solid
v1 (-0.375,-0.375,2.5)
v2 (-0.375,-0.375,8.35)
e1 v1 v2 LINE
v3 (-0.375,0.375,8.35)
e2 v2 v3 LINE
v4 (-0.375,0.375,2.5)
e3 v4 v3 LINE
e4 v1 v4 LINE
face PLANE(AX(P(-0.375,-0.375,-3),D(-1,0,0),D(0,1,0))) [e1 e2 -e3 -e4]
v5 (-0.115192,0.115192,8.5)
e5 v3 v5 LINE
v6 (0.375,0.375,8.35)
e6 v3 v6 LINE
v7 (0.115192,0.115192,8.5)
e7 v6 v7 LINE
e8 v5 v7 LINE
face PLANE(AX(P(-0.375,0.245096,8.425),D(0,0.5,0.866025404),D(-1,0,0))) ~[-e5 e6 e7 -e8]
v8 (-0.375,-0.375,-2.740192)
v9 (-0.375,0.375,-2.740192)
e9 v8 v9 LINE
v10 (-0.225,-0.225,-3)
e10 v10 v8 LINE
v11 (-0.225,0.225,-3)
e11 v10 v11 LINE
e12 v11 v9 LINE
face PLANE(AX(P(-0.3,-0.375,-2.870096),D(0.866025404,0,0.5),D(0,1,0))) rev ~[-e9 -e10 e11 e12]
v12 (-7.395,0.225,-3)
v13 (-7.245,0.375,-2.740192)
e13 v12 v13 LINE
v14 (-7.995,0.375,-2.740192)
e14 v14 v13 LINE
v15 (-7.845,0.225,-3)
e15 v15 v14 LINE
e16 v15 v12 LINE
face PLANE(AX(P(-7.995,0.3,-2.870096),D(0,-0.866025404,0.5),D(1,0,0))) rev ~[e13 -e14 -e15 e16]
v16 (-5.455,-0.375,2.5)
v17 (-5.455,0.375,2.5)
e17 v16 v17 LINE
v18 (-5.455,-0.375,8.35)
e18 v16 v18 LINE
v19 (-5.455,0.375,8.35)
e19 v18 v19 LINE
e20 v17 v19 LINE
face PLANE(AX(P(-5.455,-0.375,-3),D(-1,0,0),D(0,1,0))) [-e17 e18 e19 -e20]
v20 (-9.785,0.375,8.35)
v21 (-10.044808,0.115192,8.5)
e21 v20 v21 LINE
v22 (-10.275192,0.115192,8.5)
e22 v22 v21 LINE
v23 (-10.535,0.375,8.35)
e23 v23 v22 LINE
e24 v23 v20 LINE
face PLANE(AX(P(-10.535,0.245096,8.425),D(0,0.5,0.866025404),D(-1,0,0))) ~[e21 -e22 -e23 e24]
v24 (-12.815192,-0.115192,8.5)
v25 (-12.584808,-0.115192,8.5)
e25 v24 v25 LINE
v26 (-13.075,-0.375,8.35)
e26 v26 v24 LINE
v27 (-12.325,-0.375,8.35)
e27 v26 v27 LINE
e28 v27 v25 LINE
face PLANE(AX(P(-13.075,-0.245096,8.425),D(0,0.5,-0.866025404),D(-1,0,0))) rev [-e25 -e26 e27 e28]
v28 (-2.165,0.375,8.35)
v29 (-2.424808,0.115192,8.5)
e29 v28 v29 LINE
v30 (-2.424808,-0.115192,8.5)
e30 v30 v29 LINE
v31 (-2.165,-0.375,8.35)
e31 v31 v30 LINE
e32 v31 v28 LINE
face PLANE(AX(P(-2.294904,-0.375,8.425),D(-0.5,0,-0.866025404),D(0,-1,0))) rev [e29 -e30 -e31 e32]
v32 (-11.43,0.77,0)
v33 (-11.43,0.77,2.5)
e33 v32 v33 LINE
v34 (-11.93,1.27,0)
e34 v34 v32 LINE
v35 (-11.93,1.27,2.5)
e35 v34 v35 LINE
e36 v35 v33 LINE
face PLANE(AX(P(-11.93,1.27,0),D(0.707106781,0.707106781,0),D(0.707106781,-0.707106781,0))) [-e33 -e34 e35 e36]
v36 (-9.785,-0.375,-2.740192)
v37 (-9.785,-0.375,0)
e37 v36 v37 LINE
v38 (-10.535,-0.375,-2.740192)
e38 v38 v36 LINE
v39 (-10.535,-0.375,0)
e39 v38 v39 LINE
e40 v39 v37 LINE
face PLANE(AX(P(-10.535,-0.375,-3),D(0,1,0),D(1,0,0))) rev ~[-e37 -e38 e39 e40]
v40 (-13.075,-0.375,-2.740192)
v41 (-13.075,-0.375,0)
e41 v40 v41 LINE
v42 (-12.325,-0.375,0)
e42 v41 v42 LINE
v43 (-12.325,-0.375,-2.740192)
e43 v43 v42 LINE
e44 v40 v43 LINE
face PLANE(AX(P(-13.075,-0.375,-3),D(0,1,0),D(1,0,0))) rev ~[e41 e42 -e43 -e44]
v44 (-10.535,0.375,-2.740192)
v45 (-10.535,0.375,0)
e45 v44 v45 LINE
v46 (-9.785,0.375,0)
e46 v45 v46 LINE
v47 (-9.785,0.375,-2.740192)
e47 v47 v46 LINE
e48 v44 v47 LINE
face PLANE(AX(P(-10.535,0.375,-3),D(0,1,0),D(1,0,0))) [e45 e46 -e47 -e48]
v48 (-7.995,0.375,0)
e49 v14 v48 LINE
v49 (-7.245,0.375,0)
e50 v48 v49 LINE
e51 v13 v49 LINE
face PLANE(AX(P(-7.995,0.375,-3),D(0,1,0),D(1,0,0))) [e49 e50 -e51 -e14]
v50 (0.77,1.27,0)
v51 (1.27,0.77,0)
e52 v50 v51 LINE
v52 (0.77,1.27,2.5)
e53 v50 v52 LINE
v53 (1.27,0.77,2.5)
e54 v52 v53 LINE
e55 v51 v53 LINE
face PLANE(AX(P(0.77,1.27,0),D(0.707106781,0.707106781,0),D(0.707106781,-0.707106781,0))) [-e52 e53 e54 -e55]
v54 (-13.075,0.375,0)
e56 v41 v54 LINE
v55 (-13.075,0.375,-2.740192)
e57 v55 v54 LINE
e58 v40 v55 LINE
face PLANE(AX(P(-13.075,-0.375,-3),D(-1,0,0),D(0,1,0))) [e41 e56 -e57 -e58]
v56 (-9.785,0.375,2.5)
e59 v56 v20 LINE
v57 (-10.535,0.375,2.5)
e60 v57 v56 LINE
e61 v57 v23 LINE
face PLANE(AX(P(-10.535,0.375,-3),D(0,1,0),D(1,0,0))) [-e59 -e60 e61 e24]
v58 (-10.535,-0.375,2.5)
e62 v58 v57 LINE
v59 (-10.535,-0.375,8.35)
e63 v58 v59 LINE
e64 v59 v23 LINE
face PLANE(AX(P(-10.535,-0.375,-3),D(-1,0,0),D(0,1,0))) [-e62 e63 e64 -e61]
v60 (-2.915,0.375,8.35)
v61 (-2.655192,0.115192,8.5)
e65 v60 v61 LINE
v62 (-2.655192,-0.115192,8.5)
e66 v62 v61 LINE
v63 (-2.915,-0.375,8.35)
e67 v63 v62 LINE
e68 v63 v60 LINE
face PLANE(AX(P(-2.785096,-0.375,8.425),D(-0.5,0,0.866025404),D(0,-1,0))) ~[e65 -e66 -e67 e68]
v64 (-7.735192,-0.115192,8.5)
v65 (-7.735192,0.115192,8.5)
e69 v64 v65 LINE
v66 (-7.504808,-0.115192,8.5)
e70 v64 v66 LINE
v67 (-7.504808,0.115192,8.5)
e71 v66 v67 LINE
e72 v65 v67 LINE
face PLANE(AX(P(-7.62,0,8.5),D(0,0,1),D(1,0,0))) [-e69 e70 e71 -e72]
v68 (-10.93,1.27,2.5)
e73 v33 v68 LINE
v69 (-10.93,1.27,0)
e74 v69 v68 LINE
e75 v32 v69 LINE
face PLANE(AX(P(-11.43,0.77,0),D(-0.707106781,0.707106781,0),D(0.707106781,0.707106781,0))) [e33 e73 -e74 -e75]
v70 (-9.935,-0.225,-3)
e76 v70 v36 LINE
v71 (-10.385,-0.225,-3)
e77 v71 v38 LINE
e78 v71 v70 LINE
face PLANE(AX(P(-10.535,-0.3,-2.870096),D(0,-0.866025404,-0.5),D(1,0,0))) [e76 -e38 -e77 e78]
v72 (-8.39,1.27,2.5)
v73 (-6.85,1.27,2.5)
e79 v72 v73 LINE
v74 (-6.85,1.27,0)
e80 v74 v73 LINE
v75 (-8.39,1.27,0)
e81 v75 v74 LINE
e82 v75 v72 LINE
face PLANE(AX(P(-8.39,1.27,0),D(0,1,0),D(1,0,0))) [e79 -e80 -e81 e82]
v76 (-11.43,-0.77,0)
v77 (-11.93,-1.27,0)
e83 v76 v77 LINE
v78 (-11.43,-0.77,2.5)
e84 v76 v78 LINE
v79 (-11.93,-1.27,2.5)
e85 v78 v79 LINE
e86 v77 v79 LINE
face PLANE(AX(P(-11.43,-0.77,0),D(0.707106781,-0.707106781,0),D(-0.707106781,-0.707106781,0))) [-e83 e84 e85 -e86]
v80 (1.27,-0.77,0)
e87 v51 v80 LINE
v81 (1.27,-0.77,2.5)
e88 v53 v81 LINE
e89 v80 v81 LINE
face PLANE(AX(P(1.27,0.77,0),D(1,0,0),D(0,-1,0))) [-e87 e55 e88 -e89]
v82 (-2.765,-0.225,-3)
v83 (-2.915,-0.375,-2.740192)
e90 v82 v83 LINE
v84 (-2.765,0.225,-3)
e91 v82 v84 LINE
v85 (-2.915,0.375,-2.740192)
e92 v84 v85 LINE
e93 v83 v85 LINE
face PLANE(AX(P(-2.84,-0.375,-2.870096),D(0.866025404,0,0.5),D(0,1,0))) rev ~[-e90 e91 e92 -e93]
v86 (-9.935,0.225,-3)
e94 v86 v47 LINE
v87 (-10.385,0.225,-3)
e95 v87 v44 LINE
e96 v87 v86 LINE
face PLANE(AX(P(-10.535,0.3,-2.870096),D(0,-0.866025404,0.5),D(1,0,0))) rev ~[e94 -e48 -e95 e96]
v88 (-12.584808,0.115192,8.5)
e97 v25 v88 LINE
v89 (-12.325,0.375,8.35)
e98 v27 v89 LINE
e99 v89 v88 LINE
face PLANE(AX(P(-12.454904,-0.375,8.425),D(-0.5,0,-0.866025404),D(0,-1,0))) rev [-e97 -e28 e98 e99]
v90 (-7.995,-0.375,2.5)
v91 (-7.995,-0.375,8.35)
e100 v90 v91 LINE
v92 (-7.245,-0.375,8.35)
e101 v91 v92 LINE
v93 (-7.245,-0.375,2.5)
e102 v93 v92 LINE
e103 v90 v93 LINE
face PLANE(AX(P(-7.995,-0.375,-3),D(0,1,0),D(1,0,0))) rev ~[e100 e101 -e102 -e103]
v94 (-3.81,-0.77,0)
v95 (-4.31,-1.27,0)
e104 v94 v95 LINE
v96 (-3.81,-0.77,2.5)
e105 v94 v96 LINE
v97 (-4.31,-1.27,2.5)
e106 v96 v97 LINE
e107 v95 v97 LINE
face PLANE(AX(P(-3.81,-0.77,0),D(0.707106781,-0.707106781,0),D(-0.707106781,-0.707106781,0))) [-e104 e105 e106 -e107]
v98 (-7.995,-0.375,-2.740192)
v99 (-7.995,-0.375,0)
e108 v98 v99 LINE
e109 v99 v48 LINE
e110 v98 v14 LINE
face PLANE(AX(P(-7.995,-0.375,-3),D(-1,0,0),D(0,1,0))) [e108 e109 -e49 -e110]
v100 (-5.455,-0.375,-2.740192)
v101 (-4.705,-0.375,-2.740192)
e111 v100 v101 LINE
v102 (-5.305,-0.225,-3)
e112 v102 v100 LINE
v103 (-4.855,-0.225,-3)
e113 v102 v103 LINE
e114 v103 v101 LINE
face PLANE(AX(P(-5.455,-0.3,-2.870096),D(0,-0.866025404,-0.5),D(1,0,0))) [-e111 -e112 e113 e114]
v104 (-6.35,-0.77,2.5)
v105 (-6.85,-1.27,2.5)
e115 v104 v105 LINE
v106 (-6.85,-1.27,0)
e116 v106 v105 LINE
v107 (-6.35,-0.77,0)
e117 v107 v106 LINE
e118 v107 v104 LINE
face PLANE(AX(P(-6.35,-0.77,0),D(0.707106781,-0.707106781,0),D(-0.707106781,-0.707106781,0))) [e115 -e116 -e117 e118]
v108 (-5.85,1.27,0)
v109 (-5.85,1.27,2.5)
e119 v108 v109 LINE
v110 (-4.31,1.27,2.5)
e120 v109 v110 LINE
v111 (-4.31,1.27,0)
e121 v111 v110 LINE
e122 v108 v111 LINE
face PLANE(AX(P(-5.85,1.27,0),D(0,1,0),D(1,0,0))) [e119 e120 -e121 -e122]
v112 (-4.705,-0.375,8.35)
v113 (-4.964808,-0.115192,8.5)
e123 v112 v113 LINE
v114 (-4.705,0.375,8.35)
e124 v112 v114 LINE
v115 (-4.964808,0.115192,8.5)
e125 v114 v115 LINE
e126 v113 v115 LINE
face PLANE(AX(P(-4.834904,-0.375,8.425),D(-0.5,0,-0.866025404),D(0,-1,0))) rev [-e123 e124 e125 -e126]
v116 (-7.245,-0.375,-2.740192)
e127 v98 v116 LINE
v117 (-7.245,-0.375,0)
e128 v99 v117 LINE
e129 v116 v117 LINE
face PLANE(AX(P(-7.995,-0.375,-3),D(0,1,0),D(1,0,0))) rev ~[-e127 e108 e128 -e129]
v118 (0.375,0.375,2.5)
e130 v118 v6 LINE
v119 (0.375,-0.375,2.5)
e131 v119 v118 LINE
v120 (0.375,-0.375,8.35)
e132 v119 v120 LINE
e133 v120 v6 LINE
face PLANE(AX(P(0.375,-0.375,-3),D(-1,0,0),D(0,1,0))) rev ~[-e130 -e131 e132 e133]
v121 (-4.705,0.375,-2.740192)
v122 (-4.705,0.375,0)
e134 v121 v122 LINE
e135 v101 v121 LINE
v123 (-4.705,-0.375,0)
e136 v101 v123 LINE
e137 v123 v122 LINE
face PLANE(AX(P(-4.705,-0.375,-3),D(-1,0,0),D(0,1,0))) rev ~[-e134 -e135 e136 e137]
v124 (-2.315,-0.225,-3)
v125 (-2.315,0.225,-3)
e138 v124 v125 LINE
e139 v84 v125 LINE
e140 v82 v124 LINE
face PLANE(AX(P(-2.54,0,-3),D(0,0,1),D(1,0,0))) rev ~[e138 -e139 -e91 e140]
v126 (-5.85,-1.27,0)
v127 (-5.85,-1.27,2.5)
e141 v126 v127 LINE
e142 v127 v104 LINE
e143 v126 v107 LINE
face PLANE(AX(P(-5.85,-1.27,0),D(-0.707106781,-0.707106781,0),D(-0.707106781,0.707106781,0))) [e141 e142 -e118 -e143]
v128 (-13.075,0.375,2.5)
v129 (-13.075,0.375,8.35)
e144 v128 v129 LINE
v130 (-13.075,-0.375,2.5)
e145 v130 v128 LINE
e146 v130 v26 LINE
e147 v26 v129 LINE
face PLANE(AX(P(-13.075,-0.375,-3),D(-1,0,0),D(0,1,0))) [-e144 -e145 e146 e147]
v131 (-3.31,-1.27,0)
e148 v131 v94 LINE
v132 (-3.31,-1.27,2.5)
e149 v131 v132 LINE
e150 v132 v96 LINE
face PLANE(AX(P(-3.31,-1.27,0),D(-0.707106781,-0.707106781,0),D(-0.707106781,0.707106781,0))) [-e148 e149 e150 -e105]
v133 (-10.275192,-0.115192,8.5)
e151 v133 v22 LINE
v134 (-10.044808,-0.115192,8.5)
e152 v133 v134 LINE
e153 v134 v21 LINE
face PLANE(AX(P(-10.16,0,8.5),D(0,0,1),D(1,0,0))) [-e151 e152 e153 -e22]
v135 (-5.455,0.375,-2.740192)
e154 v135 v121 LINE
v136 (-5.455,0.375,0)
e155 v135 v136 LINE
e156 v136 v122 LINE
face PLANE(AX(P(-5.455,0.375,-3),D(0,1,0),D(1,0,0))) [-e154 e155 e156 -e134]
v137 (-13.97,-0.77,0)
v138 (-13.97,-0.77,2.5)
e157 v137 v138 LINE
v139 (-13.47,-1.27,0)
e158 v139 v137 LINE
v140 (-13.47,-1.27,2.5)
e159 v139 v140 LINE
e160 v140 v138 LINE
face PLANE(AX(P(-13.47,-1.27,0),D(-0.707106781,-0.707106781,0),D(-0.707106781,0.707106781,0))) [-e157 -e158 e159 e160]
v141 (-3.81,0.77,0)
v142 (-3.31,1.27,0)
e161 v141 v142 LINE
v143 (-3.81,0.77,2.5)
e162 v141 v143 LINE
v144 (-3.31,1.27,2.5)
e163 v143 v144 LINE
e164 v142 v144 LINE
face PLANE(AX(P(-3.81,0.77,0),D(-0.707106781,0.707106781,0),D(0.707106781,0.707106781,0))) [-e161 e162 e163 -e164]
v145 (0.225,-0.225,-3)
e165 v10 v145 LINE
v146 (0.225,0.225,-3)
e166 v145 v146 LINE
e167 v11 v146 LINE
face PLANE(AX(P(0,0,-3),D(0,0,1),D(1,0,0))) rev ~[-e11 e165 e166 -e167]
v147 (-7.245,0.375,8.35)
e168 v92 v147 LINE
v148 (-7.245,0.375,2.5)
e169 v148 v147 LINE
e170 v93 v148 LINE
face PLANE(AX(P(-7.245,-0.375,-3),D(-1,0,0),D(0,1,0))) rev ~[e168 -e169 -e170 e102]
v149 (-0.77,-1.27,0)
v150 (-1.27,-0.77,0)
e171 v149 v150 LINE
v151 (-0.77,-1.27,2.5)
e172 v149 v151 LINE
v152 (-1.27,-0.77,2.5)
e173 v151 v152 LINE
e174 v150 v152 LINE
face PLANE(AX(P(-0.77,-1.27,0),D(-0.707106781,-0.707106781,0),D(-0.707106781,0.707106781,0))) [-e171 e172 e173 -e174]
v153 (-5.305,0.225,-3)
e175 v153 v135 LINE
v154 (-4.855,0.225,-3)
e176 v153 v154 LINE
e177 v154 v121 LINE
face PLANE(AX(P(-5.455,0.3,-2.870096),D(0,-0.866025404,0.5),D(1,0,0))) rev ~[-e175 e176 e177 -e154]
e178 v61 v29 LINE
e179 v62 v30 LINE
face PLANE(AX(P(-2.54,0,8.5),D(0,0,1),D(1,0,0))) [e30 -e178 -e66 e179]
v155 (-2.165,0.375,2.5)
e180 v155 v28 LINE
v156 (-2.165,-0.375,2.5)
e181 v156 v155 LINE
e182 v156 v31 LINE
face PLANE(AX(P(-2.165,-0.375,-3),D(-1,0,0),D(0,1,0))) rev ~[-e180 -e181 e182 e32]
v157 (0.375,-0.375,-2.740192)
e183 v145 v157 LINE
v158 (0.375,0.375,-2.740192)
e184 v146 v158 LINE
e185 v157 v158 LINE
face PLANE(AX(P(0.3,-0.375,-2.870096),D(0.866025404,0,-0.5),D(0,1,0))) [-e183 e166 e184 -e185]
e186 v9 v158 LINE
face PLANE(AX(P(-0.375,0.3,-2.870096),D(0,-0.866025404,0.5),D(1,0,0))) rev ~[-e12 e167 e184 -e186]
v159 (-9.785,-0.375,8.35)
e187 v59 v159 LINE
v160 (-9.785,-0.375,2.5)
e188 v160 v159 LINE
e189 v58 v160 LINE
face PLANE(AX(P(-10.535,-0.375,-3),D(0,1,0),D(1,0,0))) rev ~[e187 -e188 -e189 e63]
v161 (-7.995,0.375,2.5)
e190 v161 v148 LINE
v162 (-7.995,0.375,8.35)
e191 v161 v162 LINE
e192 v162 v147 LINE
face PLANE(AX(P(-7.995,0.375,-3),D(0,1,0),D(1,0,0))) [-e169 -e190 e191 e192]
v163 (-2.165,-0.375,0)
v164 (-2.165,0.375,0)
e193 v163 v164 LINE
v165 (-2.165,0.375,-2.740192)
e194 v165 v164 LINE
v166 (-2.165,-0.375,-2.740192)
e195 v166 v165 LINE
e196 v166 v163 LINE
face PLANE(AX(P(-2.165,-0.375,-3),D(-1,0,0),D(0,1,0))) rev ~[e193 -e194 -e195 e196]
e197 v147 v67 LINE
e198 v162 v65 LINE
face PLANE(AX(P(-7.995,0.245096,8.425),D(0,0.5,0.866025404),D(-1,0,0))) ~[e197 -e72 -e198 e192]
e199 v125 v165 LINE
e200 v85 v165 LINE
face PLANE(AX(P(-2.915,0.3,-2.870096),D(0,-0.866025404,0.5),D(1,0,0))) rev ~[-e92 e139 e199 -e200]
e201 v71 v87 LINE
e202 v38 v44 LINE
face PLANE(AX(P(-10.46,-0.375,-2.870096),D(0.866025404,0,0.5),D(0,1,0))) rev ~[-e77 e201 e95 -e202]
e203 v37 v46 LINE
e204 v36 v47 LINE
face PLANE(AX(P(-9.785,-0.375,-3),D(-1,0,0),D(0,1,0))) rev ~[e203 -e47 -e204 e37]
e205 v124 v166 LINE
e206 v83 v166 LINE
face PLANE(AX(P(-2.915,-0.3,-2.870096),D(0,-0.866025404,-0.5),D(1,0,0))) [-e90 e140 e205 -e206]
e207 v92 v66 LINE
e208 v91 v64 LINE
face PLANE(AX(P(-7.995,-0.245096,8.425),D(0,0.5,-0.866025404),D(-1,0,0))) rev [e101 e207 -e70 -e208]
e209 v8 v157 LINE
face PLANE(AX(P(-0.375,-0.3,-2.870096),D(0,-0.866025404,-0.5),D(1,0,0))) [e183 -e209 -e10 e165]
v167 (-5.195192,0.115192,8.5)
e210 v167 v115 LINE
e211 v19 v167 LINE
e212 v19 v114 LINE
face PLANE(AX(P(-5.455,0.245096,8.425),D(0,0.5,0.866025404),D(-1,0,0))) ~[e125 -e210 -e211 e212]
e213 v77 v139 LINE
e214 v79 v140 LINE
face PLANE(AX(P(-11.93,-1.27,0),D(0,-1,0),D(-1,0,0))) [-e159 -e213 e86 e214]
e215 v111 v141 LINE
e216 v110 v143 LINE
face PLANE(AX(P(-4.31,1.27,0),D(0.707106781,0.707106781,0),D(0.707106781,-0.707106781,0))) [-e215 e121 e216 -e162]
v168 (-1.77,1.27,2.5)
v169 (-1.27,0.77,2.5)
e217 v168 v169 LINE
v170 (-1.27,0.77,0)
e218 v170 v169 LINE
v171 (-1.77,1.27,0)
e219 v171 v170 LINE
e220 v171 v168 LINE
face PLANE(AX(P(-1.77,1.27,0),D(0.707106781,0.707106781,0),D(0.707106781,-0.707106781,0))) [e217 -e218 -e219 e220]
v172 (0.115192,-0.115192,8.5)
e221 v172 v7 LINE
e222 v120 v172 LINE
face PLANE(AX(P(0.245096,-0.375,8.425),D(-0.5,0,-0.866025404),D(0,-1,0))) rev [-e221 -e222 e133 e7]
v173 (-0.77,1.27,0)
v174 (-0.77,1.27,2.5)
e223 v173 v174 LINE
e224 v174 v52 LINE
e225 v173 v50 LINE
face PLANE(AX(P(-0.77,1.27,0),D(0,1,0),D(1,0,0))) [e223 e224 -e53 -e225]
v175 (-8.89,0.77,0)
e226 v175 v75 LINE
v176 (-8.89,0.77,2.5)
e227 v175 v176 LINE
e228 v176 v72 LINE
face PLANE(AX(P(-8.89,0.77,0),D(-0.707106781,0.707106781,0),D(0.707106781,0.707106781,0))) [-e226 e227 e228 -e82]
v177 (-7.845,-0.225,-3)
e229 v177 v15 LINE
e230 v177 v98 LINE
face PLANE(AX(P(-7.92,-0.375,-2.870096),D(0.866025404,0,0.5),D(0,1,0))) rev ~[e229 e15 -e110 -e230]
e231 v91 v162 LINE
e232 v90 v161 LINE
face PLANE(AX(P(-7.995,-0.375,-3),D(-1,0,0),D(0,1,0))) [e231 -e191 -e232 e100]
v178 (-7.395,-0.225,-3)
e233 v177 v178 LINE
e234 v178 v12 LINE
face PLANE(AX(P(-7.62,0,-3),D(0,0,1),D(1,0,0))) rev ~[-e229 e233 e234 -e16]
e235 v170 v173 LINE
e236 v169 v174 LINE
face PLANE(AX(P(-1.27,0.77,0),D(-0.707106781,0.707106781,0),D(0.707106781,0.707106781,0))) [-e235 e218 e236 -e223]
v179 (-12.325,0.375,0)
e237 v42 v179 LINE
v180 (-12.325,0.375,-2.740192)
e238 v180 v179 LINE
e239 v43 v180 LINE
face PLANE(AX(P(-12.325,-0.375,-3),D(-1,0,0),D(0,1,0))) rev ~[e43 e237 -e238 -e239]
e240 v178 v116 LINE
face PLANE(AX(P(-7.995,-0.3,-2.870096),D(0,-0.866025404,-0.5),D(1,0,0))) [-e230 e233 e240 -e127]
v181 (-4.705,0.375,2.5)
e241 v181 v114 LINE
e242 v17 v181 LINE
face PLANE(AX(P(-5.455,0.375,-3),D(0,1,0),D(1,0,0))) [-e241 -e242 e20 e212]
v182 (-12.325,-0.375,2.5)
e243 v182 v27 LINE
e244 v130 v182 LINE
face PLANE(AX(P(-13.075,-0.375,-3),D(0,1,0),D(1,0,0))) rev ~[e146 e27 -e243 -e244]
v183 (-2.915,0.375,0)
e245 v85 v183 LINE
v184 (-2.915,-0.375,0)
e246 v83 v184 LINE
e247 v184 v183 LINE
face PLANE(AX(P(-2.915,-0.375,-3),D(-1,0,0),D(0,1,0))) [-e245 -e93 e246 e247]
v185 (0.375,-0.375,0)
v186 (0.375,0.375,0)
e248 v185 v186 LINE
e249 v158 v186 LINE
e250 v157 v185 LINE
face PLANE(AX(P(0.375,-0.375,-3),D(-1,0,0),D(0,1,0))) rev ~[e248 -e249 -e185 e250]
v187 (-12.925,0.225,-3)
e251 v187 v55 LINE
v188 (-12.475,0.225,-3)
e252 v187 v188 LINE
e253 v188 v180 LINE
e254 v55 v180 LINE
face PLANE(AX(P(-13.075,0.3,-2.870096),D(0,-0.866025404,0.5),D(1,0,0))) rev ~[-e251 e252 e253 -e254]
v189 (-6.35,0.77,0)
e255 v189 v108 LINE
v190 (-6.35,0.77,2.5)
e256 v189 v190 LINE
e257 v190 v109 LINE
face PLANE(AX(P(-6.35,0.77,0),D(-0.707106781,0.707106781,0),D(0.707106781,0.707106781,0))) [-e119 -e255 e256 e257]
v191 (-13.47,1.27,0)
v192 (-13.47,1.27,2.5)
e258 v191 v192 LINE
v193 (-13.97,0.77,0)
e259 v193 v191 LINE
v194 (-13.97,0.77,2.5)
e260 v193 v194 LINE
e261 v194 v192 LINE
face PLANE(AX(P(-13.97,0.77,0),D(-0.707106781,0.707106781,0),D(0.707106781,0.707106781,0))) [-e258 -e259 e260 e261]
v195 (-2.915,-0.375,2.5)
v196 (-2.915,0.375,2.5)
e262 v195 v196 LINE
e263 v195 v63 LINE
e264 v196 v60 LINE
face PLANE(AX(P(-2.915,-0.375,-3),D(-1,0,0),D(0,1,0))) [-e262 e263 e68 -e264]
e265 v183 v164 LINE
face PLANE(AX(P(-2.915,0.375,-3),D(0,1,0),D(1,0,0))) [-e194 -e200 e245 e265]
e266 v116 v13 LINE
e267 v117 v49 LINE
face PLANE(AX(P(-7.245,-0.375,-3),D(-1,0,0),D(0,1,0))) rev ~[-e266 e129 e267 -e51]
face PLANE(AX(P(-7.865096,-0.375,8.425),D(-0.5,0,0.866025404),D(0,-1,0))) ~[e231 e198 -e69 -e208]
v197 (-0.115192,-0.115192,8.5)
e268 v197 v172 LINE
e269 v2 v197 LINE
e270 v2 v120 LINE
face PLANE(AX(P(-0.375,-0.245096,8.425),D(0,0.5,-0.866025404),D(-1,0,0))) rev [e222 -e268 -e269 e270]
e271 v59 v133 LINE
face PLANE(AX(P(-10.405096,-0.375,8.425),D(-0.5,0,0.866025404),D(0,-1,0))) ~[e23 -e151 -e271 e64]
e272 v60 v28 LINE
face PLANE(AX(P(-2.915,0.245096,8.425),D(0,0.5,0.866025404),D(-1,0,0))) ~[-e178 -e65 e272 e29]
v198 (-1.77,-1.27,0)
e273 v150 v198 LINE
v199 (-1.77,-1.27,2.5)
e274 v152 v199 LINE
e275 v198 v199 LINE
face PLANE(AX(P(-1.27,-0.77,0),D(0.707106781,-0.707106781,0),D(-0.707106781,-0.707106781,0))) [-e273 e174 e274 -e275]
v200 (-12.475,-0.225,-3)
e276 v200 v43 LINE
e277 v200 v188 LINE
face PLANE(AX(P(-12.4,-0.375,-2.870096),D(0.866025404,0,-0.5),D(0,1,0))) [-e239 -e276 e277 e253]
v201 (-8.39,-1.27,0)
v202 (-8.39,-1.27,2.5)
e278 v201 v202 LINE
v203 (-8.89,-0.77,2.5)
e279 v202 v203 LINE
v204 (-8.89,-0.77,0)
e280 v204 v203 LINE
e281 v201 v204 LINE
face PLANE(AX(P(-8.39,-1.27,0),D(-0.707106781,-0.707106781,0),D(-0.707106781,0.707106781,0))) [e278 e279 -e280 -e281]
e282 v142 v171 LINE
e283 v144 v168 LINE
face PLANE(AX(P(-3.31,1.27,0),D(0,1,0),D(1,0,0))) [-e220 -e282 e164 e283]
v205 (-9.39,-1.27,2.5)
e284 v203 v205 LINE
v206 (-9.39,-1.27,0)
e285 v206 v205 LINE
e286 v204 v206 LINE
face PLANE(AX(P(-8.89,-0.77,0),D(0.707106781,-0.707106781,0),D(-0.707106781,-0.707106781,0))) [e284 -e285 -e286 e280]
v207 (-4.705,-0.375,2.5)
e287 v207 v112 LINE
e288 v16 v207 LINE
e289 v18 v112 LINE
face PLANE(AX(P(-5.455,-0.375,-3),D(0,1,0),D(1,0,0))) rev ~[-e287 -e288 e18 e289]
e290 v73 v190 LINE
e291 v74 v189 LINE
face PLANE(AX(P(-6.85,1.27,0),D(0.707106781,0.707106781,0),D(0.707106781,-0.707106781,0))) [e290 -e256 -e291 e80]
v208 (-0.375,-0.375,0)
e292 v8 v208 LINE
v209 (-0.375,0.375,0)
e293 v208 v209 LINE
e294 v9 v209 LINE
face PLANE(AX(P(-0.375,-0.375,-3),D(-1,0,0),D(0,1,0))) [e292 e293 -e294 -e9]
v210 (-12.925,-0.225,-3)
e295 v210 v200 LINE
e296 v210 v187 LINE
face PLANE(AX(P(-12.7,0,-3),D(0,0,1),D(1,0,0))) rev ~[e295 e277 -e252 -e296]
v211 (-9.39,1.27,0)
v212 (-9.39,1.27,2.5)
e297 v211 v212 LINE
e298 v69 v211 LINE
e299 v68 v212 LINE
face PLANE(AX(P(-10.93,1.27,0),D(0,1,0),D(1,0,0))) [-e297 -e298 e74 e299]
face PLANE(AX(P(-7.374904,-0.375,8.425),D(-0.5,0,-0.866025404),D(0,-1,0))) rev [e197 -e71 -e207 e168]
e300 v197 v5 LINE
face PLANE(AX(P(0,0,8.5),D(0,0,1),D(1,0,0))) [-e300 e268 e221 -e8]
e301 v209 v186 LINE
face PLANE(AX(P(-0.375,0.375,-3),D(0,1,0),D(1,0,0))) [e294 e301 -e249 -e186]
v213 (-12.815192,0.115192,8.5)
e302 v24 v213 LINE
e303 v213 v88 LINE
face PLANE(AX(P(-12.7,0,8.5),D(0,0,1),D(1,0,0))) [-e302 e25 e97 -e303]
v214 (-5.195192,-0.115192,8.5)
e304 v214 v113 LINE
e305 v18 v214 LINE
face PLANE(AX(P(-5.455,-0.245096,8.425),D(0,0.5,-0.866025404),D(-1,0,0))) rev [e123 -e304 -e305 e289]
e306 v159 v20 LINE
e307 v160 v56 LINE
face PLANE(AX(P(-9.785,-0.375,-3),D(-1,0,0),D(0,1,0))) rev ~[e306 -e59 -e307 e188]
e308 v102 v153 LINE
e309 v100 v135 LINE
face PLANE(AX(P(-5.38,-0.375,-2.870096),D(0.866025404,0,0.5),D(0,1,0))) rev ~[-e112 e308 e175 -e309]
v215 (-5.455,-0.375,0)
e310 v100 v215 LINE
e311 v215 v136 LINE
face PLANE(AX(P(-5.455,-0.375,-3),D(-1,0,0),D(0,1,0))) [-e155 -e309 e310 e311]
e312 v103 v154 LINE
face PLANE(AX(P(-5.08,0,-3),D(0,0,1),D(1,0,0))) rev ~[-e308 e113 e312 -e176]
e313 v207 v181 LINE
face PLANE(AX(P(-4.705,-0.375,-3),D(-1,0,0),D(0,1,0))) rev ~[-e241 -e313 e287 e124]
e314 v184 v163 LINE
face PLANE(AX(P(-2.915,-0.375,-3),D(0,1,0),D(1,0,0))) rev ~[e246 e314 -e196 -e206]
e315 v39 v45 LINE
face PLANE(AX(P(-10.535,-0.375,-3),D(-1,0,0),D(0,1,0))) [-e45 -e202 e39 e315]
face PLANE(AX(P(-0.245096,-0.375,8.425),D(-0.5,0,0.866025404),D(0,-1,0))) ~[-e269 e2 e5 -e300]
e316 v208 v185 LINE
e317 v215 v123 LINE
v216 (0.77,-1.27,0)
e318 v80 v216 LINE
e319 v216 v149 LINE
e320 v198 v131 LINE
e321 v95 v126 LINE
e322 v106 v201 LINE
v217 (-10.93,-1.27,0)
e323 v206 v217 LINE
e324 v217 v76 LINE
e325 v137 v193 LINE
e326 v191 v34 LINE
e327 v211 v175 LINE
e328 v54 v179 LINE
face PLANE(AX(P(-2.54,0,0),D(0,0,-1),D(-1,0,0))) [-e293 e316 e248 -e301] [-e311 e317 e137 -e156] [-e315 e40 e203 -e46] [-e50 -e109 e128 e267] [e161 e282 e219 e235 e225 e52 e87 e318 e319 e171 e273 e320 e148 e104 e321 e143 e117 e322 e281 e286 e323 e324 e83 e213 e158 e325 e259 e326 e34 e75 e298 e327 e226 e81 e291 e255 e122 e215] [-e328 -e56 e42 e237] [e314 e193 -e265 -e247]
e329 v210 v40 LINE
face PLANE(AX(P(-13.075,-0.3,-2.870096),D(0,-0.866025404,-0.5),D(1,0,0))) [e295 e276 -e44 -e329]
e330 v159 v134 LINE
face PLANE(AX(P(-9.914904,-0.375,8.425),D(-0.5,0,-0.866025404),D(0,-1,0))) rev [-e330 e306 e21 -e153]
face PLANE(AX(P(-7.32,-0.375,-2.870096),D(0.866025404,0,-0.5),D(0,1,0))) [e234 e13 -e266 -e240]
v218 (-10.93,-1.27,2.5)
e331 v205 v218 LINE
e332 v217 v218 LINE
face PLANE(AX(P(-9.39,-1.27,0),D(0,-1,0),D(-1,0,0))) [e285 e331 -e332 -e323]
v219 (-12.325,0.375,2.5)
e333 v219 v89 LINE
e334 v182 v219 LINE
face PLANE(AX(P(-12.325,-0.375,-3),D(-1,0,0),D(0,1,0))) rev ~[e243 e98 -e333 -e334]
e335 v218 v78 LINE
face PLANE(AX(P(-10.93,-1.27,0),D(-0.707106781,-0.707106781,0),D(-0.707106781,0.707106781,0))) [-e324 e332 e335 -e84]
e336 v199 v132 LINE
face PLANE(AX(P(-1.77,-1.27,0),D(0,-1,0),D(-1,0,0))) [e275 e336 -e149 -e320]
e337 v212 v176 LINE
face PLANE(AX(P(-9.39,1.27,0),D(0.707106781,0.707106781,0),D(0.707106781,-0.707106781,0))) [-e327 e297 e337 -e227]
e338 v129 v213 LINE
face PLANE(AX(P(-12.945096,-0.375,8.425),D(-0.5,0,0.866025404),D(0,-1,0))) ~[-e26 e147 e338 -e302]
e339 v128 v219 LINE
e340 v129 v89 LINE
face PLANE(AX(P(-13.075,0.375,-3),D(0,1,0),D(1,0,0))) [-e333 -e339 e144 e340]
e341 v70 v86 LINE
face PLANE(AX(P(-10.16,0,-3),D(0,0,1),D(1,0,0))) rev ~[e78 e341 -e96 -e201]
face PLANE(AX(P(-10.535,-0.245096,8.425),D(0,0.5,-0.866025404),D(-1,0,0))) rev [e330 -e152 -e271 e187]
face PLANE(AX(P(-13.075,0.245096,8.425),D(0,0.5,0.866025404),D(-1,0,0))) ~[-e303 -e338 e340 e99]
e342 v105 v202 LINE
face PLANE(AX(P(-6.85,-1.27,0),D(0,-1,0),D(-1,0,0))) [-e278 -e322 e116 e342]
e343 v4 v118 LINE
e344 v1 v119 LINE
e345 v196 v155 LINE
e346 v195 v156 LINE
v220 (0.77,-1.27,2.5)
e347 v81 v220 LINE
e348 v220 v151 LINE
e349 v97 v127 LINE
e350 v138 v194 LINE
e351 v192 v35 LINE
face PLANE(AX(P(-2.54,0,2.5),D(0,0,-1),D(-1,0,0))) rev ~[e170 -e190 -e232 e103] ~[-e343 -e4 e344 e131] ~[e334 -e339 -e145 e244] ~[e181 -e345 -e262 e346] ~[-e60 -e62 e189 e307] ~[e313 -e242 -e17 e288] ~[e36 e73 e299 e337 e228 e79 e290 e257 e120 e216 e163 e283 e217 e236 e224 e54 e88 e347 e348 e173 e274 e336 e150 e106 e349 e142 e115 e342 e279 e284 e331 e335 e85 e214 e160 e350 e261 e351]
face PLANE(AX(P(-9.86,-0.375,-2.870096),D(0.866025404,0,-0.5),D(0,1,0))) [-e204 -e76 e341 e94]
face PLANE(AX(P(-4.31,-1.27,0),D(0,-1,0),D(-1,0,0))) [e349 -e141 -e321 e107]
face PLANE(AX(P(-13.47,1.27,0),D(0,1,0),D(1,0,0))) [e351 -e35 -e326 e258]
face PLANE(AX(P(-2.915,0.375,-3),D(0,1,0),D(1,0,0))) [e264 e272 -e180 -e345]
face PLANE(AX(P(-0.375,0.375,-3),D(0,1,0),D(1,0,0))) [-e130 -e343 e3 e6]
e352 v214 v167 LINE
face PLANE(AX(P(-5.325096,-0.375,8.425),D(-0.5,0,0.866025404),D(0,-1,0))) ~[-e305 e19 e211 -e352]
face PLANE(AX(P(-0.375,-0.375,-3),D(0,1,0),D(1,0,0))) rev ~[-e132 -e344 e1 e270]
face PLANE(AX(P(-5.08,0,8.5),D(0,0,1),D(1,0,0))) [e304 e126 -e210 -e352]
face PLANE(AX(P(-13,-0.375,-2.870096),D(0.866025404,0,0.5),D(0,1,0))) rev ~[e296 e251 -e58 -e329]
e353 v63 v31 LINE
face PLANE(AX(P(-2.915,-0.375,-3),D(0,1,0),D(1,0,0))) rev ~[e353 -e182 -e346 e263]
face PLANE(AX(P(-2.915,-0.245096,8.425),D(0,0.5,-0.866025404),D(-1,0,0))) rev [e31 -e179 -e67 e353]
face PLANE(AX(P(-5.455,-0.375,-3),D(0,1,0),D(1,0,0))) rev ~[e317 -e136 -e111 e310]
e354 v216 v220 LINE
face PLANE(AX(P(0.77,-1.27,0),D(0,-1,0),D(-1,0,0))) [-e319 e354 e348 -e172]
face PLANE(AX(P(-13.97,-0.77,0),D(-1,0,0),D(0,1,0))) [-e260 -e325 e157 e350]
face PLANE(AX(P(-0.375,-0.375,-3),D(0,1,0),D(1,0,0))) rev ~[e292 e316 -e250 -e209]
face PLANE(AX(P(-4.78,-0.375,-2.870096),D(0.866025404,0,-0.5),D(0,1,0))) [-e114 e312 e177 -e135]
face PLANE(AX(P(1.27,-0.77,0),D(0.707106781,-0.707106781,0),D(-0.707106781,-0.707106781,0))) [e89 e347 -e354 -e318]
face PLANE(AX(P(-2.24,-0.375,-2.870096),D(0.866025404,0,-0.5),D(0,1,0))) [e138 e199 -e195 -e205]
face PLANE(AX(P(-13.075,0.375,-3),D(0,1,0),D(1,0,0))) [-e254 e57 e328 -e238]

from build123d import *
from OCP.BRepFilletAPI import BRepFilletAPI_MakeChamfer

# Parameters (mm, degrees)
SKICA1_W                     = 0.75
SKICA1_H                     = 0.75
P_IDAT_VYSUNUT_M1_DEPTH      = 2.5
LINPOLE3_COUNT               = 6
LINPOLE3_PITCH               = 2.54
P_IDAT_VYSUNUT_M2_DEPTH      = 6
P_IDAT_VYSUNUT_M2_DEPTH_BACK = 5.5
SKICA2_W                     = 0.75
SKICA2_H                     = 0.75
ZKOSEN_2_SIZE                = 0.15
ZKOSEN_2_SIZE2               = 0.259807621


with BuildPart() as part:
    # Skica1 → Přidat vysunutím1 (new body)
    with BuildSketch(Plane.XY):
        Polygon((0.77, 1.27), (1.27, 0.77), (1.27, -0.77), (0.77, -1.27), (-0.77, -1.27), (-1.27, -0.77), (-1.27, 0.77), (-0.77, 1.27), align=None)
        Rectangle(SKICA1_W, SKICA1_H, mode=Mode.SUBTRACT)
    p_idat_vysunut_m1 = extrude(amount=P_IDAT_VYSUNUT_M1_DEPTH)

    # LinPole3: Přidat vysunutím1 ×6
    with Locations(*[(-i * LINPOLE3_PITCH, 0, 0) for i in range(1, LINPOLE3_COUNT)]):
        add(p_idat_vysunut_m1)

    # Skica2 → Přidat vysunutím2 (add, two sides: drawn at the far end of the back side and taken through both)
    with BuildSketch(Plane.XY.offset(2.5).offset(-P_IDAT_VYSUNUT_M2_DEPTH_BACK)):
        with Locations((-12.7, 0)):
            Rectangle(SKICA2_W, SKICA2_H)
        with Locations((-10.16, 0)):
            Rectangle(SKICA2_W, SKICA2_H)
        with Locations((-7.62, 0)):
            Rectangle(SKICA2_W, SKICA2_H)
        with Locations((-5.08, 0)):
            Rectangle(SKICA2_W, SKICA2_H)
        with Locations((-2.54, 0)):
            Rectangle(SKICA2_W, SKICA2_H)
        Rectangle(SKICA2_W, SKICA2_H)
    extrude(amount=P_IDAT_VYSUNUT_M2_DEPTH + P_IDAT_VYSUNUT_M2_DEPTH_BACK)

    # Zkosení2: one chamfer whose edges measure the first distance from different faces: ONE call of the kernel's chamfer builder (chamfer() names one face for all edges)
    zkosen_2_edges_1 = [part.edges().sort_by_distance(p)[0] for p in [
        (0, 0.375, -3),
        (0.375, 0, -3),
        (0, -0.375, -3),
        (-0.375, 0, -3),
    ]]
    zkosen_2_side_1 = [part.faces().sort_by_distance(p)[0] for p in [
        (0, 0, -3),
    ]]
    zkosen_2_edges_2 = [part.edges().sort_by_distance(p)[0] for p in [
        (0, 0.375, 8.5),
    ]]
    zkosen_2_side_2 = [part.faces().sort_by_distance(p)[0] for p in [
        (0, 0.375, 5.5),
    ]]
    zkosen_2_edges_3 = [part.edges().sort_by_distance(p)[0] for p in [
        (-0.375, 0, 8.5),
    ]]
    zkosen_2_side_3 = [part.faces().sort_by_distance(p)[0] for p in [
        (-0.375, 0, 5.5),
    ]]
    zkosen_2_edges_4 = [part.edges().sort_by_distance(p)[0] for p in [
        (0, -0.375, 8.5),
    ]]
    zkosen_2_side_4 = [part.faces().sort_by_distance(p)[0] for p in [
        (0, -0.375, 5.5),
    ]]
    zkosen_2_edges_5 = [part.edges().sort_by_distance(p)[0] for p in [
        (0.375, 0, 8.5),
    ]]
    zkosen_2_side_5 = [part.faces().sort_by_distance(p)[0] for p in [
        (0.375, 0, 5.5),
    ]]
    zkosen_2_edges_6 = [part.edges().sort_by_distance(p)[0] for p in [
        (-2.54, 0.375, -3),
        (-2.165, 0, -3),
        (-2.54, -0.375, -3),
        (-2.915, 0, -3),
    ]]
    zkosen_2_side_6 = [part.faces().sort_by_distance(p)[0] for p in [
        (-2.54, 0, -3),
    ]]
    zkosen_2_edges_7 = [part.edges().sort_by_distance(p)[0] for p in [
        (-2.54, 0.375, 8.5),
    ]]
    zkosen_2_side_7 = [part.faces().sort_by_distance(p)[0] for p in [
        (-2.54, 0.375, 5.5),
    ]]
    zkosen_2_edges_8 = [part.edges().sort_by_distance(p)[0] for p in [
        (-2.915, 0, 8.5),
    ]]
    zkosen_2_side_8 = [part.faces().sort_by_distance(p)[0] for p in [
        (-2.915, 0, 5.5),
    ]]
    zkosen_2_edges_9 = [part.edges().sort_by_distance(p)[0] for p in [
        (-2.54, -0.375, 8.5),
    ]]
    zkosen_2_side_9 = [part.faces().sort_by_distance(p)[0] for p in [
        (-2.54, -0.375, 5.5),
    ]]
    zkosen_2_edges_10 = [part.edges().sort_by_distance(p)[0] for p in [
        (-2.165, 0, 8.5),
    ]]
    zkosen_2_side_10 = [part.faces().sort_by_distance(p)[0] for p in [
        (-2.165, 0, 5.5),
    ]]
    zkosen_2_edges_11 = [part.edges().sort_by_distance(p)[0] for p in [
        (-5.08, 0.375, -3),
        (-4.705, 0, -3),
        (-5.08, -0.375, -3),
        (-5.455, 0, -3),
    ]]
    zkosen_2_side_11 = [part.faces().sort_by_distance(p)[0] for p in [
        (-5.08, 0, -3),
    ]]
    zkosen_2_edges_12 = [part.edges().sort_by_distance(p)[0] for p in [
        (-5.08, 0.375, 8.5),
    ]]
    zkosen_2_side_12 = [part.faces().sort_by_distance(p)[0] for p in [
        (-5.08, 0.375, 5.5),
    ]]
    zkosen_2_edges_13 = [part.edges().sort_by_distance(p)[0] for p in [
        (-5.455, 0, 8.5),
    ]]
    zkosen_2_side_13 = [part.faces().sort_by_distance(p)[0] for p in [
        (-5.455, 0, 5.5),
    ]]
    zkosen_2_edges_14 = [part.edges().sort_by_distance(p)[0] for p in [
        (-5.08, -0.375, 8.5),
    ]]
    zkosen_2_side_14 = [part.faces().sort_by_distance(p)[0] for p in [
        (-5.08, -0.375, 5.5),
    ]]
    zkosen_2_edges_15 = [part.edges().sort_by_distance(p)[0] for p in [
        (-4.705, 0, 8.5),
    ]]
    zkosen_2_side_15 = [part.faces().sort_by_distance(p)[0] for p in [
        (-4.705, 0, 5.5),
    ]]
    zkosen_2_edges_16 = [part.edges().sort_by_distance(p)[0] for p in [
        (-7.62, 0.375, -3),
        (-7.245, 0, -3),
        (-7.62, -0.375, -3),
        (-7.995, 0, -3),
    ]]
    zkosen_2_side_16 = [part.faces().sort_by_distance(p)[0] for p in [
        (-7.62, 0, -3),
    ]]
    zkosen_2_edges_17 = [part.edges().sort_by_distance(p)[0] for p in [
        (-7.62, 0.375, 8.5),
    ]]
    zkosen_2_side_17 = [part.faces().sort_by_distance(p)[0] for p in [
        (-7.62, 0.375, 5.5),
    ]]
    zkosen_2_edges_18 = [part.edges().sort_by_distance(p)[0] for p in [
        (-7.995, 0, 8.5),
    ]]
    zkosen_2_side_18 = [part.faces().sort_by_distance(p)[0] for p in [
        (-7.995, 0, 5.5),
    ]]
    zkosen_2_edges_19 = [part.edges().sort_by_distance(p)[0] for p in [
        (-7.62, -0.375, 8.5),
    ]]
    zkosen_2_side_19 = [part.faces().sort_by_distance(p)[0] for p in [
        (-7.62, -0.375, 5.5),
    ]]
    zkosen_2_edges_20 = [part.edges().sort_by_distance(p)[0] for p in [
        (-7.245, 0, 8.5),
    ]]
    zkosen_2_side_20 = [part.faces().sort_by_distance(p)[0] for p in [
        (-7.245, 0, 5.5),
    ]]
    zkosen_2_edges_21 = [part.edges().sort_by_distance(p)[0] for p in [
        (-10.16, 0.375, -3),
        (-9.785, 0, -3),
        (-10.16, -0.375, -3),
        (-10.535, 0, -3),
    ]]
    zkosen_2_side_21 = [part.faces().sort_by_distance(p)[0] for p in [
        (-10.16, 0, -3),
    ]]
    zkosen_2_edges_22 = [part.edges().sort_by_distance(p)[0] for p in [
        (-10.16, 0.375, 8.5),
    ]]
    zkosen_2_side_22 = [part.faces().sort_by_distance(p)[0] for p in [
        (-10.16, 0.375, 5.5),
    ]]
    zkosen_2_edges_23 = [part.edges().sort_by_distance(p)[0] for p in [
        (-10.535, 0, 8.5),
    ]]
    zkosen_2_side_23 = [part.faces().sort_by_distance(p)[0] for p in [
        (-10.535, 0, 5.5),
    ]]
    zkosen_2_edges_24 = [part.edges().sort_by_distance(p)[0] for p in [
        (-10.16, -0.375, 8.5),
    ]]
    zkosen_2_side_24 = [part.faces().sort_by_distance(p)[0] for p in [
        (-10.16, -0.375, 5.5),
    ]]
    zkosen_2_edges_25 = [part.edges().sort_by_distance(p)[0] for p in [
        (-9.785, 0, 8.5),
    ]]
    zkosen_2_side_25 = [part.faces().sort_by_distance(p)[0] for p in [
        (-9.785, 0, 5.5),
    ]]
    zkosen_2_edges_26 = [part.edges().sort_by_distance(p)[0] for p in [
        (-12.7, 0.375, -3),
        (-12.325, 0, -3),
        (-12.7, -0.375, -3),
        (-13.075, 0, -3),
    ]]
    zkosen_2_side_26 = [part.faces().sort_by_distance(p)[0] for p in [
        (-12.7, 0, -3),
    ]]
    zkosen_2_edges_27 = [part.edges().sort_by_distance(p)[0] for p in [
        (-12.7, 0.375, 8.5),
    ]]
    zkosen_2_side_27 = [part.faces().sort_by_distance(p)[0] for p in [
        (-12.7, 0.375, 5.5),
    ]]
    zkosen_2_edges_28 = [part.edges().sort_by_distance(p)[0] for p in [
        (-13.075, 0, 8.5),
    ]]
    zkosen_2_side_28 = [part.faces().sort_by_distance(p)[0] for p in [
        (-13.075, 0, 5.5),
    ]]
    zkosen_2_edges_29 = [part.edges().sort_by_distance(p)[0] for p in [
        (-12.7, -0.375, 8.5),
    ]]
    zkosen_2_side_29 = [part.faces().sort_by_distance(p)[0] for p in [
        (-12.7, -0.375, 5.5),
    ]]
    zkosen_2_edges_30 = [part.edges().sort_by_distance(p)[0] for p in [
        (-12.325, 0, 8.5),
    ]]
    zkosen_2_side_30 = [part.faces().sort_by_distance(p)[0] for p in [
        (-12.325, 0, 5.5),
    ]]
    zkosen_2 = BRepFilletAPI_MakeChamfer(part.part.solid().wrapped)
    for e in zkosen_2_edges_1:
        zkosen_2.Add(ZKOSEN_2_SIZE, ZKOSEN_2_SIZE2, e.wrapped, zkosen_2_side_1[0].wrapped)  # the first distance lies on this face
    for e in zkosen_2_edges_2:
        zkosen_2.Add(ZKOSEN_2_SIZE, ZKOSEN_2_SIZE2, e.wrapped, zkosen_2_side_2[0].wrapped)  # the first distance lies on this face
    for e in zkosen_2_edges_3:
        zkosen_2.Add(ZKOSEN_2_SIZE, ZKOSEN_2_SIZE2, e.wrapped, zkosen_2_side_3[0].wrapped)  # the first distance lies on this face
    for e in zkosen_2_edges_4:
        zkosen_2.Add(ZKOSEN_2_SIZE, ZKOSEN_2_SIZE2, e.wrapped, zkosen_2_side_4[0].wrapped)  # the first distance lies on this face
    for e in zkosen_2_edges_5:
        zkosen_2.Add(ZKOSEN_2_SIZE, ZKOSEN_2_SIZE2, e.wrapped, zkosen_2_side_5[0].wrapped)  # the first distance lies on this face
    for e in zkosen_2_edges_6:
        zkosen_2.Add(ZKOSEN_2_SIZE, ZKOSEN_2_SIZE2, e.wrapped, zkosen_2_side_6[0].wrapped)  # the first distance lies on this face
    for e in zkosen_2_edges_7:
        zkosen_2.Add(ZKOSEN_2_SIZE, ZKOSEN_2_SIZE2, e.wrapped, zkosen_2_side_7[0].wrapped)  # the first distance lies on this face
    for e in zkosen_2_edges_8:
        zkosen_2.Add(ZKOSEN_2_SIZE, ZKOSEN_2_SIZE2, e.wrapped, zkosen_2_side_8[0].wrapped)  # the first distance lies on this face
    for e in zkosen_2_edges_9:
        zkosen_2.Add(ZKOSEN_2_SIZE, ZKOSEN_2_SIZE2, e.wrapped, zkosen_2_side_9[0].wrapped)  # the first distance lies on this face
    for e in zkosen_2_edges_10:
        zkosen_2.Add(ZKOSEN_2_SIZE, ZKOSEN_2_SIZE2, e.wrapped, zkosen_2_side_10[0].wrapped)  # the first distance lies on this face
    for e in zkosen_2_edges_11:
        zkosen_2.Add(ZKOSEN_2_SIZE, ZKOSEN_2_SIZE2, e.wrapped, zkosen_2_side_11[0].wrapped)  # the first distance lies on this face
    for e in zkosen_2_edges_12:
        zkosen_2.Add(ZKOSEN_2_SIZE, ZKOSEN_2_SIZE2, e.wrapped, zkosen_2_side_12[0].wrapped)  # the first distance lies on this face
    for e in zkosen_2_edges_13:
        zkosen_2.Add(ZKOSEN_2_SIZE, ZKOSEN_2_SIZE2, e.wrapped, zkosen_2_side_13[0].wrapped)  # the first distance lies on this face
    for e in zkosen_2_edges_14:
        zkosen_2.Add(ZKOSEN_2_SIZE, ZKOSEN_2_SIZE2, e.wrapped, zkosen_2_side_14[0].wrapped)  # the first distance lies on this face
    for e in zkosen_2_edges_15:
        zkosen_2.Add(ZKOSEN_2_SIZE, ZKOSEN_2_SIZE2, e.wrapped, zkosen_2_side_15[0].wrapped)  # the first distance lies on this face
    for e in zkosen_2_edges_16:
        zkosen_2.Add(ZKOSEN_2_SIZE, ZKOSEN_2_SIZE2, e.wrapped, zkosen_2_side_16[0].wrapped)  # the first distance lies on this face
    for e in zkosen_2_edges_17:
        zkosen_2.Add(ZKOSEN_2_SIZE, ZKOSEN_2_SIZE2, e.wrapped, zkosen_2_side_17[0].wrapped)  # the first distance lies on this face
    for e in zkosen_2_edges_18:
        zkosen_2.Add(ZKOSEN_2_SIZE, ZKOSEN_2_SIZE2, e.wrapped, zkosen_2_side_18[0].wrapped)  # the first distance lies on this face
    for e in zkosen_2_edges_19:
        zkosen_2.Add(ZKOSEN_2_SIZE, ZKOSEN_2_SIZE2, e.wrapped, zkosen_2_side_19[0].wrapped)  # the first distance lies on this face
    for e in zkosen_2_edges_20:
        zkosen_2.Add(ZKOSEN_2_SIZE, ZKOSEN_2_SIZE2, e.wrapped, zkosen_2_side_20[0].wrapped)  # the first distance lies on this face
    for e in zkosen_2_edges_21:
        zkosen_2.Add(ZKOSEN_2_SIZE, ZKOSEN_2_SIZE2, e.wrapped, zkosen_2_side_21[0].wrapped)  # the first distance lies on this face
    for e in zkosen_2_edges_22:
        zkosen_2.Add(ZKOSEN_2_SIZE, ZKOSEN_2_SIZE2, e.wrapped, zkosen_2_side_22[0].wrapped)  # the first distance lies on this face
    for e in zkosen_2_edges_23:
        zkosen_2.Add(ZKOSEN_2_SIZE, ZKOSEN_2_SIZE2, e.wrapped, zkosen_2_side_23[0].wrapped)  # the first distance lies on this face
    for e in zkosen_2_edges_24:
        zkosen_2.Add(ZKOSEN_2_SIZE, ZKOSEN_2_SIZE2, e.wrapped, zkosen_2_side_24[0].wrapped)  # the first distance lies on this face
    for e in zkosen_2_edges_25:
        zkosen_2.Add(ZKOSEN_2_SIZE, ZKOSEN_2_SIZE2, e.wrapped, zkosen_2_side_25[0].wrapped)  # the first distance lies on this face
    for e in zkosen_2_edges_26:
        zkosen_2.Add(ZKOSEN_2_SIZE, ZKOSEN_2_SIZE2, e.wrapped, zkosen_2_side_26[0].wrapped)  # the first distance lies on this face
    for e in zkosen_2_edges_27:
        zkosen_2.Add(ZKOSEN_2_SIZE, ZKOSEN_2_SIZE2, e.wrapped, zkosen_2_side_27[0].wrapped)  # the first distance lies on this face
    for e in zkosen_2_edges_28:
        zkosen_2.Add(ZKOSEN_2_SIZE, ZKOSEN_2_SIZE2, e.wrapped, zkosen_2_side_28[0].wrapped)  # the first distance lies on this face
    for e in zkosen_2_edges_29:
        zkosen_2.Add(ZKOSEN_2_SIZE, ZKOSEN_2_SIZE2, e.wrapped, zkosen_2_side_29[0].wrapped)  # the first distance lies on this face
    for e in zkosen_2_edges_30:
        zkosen_2.Add(ZKOSEN_2_SIZE, ZKOSEN_2_SIZE2, e.wrapped, zkosen_2_side_30[0].wrapped)  # the first distance lies on this face
    add(Compound.cast(zkosen_2.Shape()), mode=Mode.REPLACE)


solid = part.part
